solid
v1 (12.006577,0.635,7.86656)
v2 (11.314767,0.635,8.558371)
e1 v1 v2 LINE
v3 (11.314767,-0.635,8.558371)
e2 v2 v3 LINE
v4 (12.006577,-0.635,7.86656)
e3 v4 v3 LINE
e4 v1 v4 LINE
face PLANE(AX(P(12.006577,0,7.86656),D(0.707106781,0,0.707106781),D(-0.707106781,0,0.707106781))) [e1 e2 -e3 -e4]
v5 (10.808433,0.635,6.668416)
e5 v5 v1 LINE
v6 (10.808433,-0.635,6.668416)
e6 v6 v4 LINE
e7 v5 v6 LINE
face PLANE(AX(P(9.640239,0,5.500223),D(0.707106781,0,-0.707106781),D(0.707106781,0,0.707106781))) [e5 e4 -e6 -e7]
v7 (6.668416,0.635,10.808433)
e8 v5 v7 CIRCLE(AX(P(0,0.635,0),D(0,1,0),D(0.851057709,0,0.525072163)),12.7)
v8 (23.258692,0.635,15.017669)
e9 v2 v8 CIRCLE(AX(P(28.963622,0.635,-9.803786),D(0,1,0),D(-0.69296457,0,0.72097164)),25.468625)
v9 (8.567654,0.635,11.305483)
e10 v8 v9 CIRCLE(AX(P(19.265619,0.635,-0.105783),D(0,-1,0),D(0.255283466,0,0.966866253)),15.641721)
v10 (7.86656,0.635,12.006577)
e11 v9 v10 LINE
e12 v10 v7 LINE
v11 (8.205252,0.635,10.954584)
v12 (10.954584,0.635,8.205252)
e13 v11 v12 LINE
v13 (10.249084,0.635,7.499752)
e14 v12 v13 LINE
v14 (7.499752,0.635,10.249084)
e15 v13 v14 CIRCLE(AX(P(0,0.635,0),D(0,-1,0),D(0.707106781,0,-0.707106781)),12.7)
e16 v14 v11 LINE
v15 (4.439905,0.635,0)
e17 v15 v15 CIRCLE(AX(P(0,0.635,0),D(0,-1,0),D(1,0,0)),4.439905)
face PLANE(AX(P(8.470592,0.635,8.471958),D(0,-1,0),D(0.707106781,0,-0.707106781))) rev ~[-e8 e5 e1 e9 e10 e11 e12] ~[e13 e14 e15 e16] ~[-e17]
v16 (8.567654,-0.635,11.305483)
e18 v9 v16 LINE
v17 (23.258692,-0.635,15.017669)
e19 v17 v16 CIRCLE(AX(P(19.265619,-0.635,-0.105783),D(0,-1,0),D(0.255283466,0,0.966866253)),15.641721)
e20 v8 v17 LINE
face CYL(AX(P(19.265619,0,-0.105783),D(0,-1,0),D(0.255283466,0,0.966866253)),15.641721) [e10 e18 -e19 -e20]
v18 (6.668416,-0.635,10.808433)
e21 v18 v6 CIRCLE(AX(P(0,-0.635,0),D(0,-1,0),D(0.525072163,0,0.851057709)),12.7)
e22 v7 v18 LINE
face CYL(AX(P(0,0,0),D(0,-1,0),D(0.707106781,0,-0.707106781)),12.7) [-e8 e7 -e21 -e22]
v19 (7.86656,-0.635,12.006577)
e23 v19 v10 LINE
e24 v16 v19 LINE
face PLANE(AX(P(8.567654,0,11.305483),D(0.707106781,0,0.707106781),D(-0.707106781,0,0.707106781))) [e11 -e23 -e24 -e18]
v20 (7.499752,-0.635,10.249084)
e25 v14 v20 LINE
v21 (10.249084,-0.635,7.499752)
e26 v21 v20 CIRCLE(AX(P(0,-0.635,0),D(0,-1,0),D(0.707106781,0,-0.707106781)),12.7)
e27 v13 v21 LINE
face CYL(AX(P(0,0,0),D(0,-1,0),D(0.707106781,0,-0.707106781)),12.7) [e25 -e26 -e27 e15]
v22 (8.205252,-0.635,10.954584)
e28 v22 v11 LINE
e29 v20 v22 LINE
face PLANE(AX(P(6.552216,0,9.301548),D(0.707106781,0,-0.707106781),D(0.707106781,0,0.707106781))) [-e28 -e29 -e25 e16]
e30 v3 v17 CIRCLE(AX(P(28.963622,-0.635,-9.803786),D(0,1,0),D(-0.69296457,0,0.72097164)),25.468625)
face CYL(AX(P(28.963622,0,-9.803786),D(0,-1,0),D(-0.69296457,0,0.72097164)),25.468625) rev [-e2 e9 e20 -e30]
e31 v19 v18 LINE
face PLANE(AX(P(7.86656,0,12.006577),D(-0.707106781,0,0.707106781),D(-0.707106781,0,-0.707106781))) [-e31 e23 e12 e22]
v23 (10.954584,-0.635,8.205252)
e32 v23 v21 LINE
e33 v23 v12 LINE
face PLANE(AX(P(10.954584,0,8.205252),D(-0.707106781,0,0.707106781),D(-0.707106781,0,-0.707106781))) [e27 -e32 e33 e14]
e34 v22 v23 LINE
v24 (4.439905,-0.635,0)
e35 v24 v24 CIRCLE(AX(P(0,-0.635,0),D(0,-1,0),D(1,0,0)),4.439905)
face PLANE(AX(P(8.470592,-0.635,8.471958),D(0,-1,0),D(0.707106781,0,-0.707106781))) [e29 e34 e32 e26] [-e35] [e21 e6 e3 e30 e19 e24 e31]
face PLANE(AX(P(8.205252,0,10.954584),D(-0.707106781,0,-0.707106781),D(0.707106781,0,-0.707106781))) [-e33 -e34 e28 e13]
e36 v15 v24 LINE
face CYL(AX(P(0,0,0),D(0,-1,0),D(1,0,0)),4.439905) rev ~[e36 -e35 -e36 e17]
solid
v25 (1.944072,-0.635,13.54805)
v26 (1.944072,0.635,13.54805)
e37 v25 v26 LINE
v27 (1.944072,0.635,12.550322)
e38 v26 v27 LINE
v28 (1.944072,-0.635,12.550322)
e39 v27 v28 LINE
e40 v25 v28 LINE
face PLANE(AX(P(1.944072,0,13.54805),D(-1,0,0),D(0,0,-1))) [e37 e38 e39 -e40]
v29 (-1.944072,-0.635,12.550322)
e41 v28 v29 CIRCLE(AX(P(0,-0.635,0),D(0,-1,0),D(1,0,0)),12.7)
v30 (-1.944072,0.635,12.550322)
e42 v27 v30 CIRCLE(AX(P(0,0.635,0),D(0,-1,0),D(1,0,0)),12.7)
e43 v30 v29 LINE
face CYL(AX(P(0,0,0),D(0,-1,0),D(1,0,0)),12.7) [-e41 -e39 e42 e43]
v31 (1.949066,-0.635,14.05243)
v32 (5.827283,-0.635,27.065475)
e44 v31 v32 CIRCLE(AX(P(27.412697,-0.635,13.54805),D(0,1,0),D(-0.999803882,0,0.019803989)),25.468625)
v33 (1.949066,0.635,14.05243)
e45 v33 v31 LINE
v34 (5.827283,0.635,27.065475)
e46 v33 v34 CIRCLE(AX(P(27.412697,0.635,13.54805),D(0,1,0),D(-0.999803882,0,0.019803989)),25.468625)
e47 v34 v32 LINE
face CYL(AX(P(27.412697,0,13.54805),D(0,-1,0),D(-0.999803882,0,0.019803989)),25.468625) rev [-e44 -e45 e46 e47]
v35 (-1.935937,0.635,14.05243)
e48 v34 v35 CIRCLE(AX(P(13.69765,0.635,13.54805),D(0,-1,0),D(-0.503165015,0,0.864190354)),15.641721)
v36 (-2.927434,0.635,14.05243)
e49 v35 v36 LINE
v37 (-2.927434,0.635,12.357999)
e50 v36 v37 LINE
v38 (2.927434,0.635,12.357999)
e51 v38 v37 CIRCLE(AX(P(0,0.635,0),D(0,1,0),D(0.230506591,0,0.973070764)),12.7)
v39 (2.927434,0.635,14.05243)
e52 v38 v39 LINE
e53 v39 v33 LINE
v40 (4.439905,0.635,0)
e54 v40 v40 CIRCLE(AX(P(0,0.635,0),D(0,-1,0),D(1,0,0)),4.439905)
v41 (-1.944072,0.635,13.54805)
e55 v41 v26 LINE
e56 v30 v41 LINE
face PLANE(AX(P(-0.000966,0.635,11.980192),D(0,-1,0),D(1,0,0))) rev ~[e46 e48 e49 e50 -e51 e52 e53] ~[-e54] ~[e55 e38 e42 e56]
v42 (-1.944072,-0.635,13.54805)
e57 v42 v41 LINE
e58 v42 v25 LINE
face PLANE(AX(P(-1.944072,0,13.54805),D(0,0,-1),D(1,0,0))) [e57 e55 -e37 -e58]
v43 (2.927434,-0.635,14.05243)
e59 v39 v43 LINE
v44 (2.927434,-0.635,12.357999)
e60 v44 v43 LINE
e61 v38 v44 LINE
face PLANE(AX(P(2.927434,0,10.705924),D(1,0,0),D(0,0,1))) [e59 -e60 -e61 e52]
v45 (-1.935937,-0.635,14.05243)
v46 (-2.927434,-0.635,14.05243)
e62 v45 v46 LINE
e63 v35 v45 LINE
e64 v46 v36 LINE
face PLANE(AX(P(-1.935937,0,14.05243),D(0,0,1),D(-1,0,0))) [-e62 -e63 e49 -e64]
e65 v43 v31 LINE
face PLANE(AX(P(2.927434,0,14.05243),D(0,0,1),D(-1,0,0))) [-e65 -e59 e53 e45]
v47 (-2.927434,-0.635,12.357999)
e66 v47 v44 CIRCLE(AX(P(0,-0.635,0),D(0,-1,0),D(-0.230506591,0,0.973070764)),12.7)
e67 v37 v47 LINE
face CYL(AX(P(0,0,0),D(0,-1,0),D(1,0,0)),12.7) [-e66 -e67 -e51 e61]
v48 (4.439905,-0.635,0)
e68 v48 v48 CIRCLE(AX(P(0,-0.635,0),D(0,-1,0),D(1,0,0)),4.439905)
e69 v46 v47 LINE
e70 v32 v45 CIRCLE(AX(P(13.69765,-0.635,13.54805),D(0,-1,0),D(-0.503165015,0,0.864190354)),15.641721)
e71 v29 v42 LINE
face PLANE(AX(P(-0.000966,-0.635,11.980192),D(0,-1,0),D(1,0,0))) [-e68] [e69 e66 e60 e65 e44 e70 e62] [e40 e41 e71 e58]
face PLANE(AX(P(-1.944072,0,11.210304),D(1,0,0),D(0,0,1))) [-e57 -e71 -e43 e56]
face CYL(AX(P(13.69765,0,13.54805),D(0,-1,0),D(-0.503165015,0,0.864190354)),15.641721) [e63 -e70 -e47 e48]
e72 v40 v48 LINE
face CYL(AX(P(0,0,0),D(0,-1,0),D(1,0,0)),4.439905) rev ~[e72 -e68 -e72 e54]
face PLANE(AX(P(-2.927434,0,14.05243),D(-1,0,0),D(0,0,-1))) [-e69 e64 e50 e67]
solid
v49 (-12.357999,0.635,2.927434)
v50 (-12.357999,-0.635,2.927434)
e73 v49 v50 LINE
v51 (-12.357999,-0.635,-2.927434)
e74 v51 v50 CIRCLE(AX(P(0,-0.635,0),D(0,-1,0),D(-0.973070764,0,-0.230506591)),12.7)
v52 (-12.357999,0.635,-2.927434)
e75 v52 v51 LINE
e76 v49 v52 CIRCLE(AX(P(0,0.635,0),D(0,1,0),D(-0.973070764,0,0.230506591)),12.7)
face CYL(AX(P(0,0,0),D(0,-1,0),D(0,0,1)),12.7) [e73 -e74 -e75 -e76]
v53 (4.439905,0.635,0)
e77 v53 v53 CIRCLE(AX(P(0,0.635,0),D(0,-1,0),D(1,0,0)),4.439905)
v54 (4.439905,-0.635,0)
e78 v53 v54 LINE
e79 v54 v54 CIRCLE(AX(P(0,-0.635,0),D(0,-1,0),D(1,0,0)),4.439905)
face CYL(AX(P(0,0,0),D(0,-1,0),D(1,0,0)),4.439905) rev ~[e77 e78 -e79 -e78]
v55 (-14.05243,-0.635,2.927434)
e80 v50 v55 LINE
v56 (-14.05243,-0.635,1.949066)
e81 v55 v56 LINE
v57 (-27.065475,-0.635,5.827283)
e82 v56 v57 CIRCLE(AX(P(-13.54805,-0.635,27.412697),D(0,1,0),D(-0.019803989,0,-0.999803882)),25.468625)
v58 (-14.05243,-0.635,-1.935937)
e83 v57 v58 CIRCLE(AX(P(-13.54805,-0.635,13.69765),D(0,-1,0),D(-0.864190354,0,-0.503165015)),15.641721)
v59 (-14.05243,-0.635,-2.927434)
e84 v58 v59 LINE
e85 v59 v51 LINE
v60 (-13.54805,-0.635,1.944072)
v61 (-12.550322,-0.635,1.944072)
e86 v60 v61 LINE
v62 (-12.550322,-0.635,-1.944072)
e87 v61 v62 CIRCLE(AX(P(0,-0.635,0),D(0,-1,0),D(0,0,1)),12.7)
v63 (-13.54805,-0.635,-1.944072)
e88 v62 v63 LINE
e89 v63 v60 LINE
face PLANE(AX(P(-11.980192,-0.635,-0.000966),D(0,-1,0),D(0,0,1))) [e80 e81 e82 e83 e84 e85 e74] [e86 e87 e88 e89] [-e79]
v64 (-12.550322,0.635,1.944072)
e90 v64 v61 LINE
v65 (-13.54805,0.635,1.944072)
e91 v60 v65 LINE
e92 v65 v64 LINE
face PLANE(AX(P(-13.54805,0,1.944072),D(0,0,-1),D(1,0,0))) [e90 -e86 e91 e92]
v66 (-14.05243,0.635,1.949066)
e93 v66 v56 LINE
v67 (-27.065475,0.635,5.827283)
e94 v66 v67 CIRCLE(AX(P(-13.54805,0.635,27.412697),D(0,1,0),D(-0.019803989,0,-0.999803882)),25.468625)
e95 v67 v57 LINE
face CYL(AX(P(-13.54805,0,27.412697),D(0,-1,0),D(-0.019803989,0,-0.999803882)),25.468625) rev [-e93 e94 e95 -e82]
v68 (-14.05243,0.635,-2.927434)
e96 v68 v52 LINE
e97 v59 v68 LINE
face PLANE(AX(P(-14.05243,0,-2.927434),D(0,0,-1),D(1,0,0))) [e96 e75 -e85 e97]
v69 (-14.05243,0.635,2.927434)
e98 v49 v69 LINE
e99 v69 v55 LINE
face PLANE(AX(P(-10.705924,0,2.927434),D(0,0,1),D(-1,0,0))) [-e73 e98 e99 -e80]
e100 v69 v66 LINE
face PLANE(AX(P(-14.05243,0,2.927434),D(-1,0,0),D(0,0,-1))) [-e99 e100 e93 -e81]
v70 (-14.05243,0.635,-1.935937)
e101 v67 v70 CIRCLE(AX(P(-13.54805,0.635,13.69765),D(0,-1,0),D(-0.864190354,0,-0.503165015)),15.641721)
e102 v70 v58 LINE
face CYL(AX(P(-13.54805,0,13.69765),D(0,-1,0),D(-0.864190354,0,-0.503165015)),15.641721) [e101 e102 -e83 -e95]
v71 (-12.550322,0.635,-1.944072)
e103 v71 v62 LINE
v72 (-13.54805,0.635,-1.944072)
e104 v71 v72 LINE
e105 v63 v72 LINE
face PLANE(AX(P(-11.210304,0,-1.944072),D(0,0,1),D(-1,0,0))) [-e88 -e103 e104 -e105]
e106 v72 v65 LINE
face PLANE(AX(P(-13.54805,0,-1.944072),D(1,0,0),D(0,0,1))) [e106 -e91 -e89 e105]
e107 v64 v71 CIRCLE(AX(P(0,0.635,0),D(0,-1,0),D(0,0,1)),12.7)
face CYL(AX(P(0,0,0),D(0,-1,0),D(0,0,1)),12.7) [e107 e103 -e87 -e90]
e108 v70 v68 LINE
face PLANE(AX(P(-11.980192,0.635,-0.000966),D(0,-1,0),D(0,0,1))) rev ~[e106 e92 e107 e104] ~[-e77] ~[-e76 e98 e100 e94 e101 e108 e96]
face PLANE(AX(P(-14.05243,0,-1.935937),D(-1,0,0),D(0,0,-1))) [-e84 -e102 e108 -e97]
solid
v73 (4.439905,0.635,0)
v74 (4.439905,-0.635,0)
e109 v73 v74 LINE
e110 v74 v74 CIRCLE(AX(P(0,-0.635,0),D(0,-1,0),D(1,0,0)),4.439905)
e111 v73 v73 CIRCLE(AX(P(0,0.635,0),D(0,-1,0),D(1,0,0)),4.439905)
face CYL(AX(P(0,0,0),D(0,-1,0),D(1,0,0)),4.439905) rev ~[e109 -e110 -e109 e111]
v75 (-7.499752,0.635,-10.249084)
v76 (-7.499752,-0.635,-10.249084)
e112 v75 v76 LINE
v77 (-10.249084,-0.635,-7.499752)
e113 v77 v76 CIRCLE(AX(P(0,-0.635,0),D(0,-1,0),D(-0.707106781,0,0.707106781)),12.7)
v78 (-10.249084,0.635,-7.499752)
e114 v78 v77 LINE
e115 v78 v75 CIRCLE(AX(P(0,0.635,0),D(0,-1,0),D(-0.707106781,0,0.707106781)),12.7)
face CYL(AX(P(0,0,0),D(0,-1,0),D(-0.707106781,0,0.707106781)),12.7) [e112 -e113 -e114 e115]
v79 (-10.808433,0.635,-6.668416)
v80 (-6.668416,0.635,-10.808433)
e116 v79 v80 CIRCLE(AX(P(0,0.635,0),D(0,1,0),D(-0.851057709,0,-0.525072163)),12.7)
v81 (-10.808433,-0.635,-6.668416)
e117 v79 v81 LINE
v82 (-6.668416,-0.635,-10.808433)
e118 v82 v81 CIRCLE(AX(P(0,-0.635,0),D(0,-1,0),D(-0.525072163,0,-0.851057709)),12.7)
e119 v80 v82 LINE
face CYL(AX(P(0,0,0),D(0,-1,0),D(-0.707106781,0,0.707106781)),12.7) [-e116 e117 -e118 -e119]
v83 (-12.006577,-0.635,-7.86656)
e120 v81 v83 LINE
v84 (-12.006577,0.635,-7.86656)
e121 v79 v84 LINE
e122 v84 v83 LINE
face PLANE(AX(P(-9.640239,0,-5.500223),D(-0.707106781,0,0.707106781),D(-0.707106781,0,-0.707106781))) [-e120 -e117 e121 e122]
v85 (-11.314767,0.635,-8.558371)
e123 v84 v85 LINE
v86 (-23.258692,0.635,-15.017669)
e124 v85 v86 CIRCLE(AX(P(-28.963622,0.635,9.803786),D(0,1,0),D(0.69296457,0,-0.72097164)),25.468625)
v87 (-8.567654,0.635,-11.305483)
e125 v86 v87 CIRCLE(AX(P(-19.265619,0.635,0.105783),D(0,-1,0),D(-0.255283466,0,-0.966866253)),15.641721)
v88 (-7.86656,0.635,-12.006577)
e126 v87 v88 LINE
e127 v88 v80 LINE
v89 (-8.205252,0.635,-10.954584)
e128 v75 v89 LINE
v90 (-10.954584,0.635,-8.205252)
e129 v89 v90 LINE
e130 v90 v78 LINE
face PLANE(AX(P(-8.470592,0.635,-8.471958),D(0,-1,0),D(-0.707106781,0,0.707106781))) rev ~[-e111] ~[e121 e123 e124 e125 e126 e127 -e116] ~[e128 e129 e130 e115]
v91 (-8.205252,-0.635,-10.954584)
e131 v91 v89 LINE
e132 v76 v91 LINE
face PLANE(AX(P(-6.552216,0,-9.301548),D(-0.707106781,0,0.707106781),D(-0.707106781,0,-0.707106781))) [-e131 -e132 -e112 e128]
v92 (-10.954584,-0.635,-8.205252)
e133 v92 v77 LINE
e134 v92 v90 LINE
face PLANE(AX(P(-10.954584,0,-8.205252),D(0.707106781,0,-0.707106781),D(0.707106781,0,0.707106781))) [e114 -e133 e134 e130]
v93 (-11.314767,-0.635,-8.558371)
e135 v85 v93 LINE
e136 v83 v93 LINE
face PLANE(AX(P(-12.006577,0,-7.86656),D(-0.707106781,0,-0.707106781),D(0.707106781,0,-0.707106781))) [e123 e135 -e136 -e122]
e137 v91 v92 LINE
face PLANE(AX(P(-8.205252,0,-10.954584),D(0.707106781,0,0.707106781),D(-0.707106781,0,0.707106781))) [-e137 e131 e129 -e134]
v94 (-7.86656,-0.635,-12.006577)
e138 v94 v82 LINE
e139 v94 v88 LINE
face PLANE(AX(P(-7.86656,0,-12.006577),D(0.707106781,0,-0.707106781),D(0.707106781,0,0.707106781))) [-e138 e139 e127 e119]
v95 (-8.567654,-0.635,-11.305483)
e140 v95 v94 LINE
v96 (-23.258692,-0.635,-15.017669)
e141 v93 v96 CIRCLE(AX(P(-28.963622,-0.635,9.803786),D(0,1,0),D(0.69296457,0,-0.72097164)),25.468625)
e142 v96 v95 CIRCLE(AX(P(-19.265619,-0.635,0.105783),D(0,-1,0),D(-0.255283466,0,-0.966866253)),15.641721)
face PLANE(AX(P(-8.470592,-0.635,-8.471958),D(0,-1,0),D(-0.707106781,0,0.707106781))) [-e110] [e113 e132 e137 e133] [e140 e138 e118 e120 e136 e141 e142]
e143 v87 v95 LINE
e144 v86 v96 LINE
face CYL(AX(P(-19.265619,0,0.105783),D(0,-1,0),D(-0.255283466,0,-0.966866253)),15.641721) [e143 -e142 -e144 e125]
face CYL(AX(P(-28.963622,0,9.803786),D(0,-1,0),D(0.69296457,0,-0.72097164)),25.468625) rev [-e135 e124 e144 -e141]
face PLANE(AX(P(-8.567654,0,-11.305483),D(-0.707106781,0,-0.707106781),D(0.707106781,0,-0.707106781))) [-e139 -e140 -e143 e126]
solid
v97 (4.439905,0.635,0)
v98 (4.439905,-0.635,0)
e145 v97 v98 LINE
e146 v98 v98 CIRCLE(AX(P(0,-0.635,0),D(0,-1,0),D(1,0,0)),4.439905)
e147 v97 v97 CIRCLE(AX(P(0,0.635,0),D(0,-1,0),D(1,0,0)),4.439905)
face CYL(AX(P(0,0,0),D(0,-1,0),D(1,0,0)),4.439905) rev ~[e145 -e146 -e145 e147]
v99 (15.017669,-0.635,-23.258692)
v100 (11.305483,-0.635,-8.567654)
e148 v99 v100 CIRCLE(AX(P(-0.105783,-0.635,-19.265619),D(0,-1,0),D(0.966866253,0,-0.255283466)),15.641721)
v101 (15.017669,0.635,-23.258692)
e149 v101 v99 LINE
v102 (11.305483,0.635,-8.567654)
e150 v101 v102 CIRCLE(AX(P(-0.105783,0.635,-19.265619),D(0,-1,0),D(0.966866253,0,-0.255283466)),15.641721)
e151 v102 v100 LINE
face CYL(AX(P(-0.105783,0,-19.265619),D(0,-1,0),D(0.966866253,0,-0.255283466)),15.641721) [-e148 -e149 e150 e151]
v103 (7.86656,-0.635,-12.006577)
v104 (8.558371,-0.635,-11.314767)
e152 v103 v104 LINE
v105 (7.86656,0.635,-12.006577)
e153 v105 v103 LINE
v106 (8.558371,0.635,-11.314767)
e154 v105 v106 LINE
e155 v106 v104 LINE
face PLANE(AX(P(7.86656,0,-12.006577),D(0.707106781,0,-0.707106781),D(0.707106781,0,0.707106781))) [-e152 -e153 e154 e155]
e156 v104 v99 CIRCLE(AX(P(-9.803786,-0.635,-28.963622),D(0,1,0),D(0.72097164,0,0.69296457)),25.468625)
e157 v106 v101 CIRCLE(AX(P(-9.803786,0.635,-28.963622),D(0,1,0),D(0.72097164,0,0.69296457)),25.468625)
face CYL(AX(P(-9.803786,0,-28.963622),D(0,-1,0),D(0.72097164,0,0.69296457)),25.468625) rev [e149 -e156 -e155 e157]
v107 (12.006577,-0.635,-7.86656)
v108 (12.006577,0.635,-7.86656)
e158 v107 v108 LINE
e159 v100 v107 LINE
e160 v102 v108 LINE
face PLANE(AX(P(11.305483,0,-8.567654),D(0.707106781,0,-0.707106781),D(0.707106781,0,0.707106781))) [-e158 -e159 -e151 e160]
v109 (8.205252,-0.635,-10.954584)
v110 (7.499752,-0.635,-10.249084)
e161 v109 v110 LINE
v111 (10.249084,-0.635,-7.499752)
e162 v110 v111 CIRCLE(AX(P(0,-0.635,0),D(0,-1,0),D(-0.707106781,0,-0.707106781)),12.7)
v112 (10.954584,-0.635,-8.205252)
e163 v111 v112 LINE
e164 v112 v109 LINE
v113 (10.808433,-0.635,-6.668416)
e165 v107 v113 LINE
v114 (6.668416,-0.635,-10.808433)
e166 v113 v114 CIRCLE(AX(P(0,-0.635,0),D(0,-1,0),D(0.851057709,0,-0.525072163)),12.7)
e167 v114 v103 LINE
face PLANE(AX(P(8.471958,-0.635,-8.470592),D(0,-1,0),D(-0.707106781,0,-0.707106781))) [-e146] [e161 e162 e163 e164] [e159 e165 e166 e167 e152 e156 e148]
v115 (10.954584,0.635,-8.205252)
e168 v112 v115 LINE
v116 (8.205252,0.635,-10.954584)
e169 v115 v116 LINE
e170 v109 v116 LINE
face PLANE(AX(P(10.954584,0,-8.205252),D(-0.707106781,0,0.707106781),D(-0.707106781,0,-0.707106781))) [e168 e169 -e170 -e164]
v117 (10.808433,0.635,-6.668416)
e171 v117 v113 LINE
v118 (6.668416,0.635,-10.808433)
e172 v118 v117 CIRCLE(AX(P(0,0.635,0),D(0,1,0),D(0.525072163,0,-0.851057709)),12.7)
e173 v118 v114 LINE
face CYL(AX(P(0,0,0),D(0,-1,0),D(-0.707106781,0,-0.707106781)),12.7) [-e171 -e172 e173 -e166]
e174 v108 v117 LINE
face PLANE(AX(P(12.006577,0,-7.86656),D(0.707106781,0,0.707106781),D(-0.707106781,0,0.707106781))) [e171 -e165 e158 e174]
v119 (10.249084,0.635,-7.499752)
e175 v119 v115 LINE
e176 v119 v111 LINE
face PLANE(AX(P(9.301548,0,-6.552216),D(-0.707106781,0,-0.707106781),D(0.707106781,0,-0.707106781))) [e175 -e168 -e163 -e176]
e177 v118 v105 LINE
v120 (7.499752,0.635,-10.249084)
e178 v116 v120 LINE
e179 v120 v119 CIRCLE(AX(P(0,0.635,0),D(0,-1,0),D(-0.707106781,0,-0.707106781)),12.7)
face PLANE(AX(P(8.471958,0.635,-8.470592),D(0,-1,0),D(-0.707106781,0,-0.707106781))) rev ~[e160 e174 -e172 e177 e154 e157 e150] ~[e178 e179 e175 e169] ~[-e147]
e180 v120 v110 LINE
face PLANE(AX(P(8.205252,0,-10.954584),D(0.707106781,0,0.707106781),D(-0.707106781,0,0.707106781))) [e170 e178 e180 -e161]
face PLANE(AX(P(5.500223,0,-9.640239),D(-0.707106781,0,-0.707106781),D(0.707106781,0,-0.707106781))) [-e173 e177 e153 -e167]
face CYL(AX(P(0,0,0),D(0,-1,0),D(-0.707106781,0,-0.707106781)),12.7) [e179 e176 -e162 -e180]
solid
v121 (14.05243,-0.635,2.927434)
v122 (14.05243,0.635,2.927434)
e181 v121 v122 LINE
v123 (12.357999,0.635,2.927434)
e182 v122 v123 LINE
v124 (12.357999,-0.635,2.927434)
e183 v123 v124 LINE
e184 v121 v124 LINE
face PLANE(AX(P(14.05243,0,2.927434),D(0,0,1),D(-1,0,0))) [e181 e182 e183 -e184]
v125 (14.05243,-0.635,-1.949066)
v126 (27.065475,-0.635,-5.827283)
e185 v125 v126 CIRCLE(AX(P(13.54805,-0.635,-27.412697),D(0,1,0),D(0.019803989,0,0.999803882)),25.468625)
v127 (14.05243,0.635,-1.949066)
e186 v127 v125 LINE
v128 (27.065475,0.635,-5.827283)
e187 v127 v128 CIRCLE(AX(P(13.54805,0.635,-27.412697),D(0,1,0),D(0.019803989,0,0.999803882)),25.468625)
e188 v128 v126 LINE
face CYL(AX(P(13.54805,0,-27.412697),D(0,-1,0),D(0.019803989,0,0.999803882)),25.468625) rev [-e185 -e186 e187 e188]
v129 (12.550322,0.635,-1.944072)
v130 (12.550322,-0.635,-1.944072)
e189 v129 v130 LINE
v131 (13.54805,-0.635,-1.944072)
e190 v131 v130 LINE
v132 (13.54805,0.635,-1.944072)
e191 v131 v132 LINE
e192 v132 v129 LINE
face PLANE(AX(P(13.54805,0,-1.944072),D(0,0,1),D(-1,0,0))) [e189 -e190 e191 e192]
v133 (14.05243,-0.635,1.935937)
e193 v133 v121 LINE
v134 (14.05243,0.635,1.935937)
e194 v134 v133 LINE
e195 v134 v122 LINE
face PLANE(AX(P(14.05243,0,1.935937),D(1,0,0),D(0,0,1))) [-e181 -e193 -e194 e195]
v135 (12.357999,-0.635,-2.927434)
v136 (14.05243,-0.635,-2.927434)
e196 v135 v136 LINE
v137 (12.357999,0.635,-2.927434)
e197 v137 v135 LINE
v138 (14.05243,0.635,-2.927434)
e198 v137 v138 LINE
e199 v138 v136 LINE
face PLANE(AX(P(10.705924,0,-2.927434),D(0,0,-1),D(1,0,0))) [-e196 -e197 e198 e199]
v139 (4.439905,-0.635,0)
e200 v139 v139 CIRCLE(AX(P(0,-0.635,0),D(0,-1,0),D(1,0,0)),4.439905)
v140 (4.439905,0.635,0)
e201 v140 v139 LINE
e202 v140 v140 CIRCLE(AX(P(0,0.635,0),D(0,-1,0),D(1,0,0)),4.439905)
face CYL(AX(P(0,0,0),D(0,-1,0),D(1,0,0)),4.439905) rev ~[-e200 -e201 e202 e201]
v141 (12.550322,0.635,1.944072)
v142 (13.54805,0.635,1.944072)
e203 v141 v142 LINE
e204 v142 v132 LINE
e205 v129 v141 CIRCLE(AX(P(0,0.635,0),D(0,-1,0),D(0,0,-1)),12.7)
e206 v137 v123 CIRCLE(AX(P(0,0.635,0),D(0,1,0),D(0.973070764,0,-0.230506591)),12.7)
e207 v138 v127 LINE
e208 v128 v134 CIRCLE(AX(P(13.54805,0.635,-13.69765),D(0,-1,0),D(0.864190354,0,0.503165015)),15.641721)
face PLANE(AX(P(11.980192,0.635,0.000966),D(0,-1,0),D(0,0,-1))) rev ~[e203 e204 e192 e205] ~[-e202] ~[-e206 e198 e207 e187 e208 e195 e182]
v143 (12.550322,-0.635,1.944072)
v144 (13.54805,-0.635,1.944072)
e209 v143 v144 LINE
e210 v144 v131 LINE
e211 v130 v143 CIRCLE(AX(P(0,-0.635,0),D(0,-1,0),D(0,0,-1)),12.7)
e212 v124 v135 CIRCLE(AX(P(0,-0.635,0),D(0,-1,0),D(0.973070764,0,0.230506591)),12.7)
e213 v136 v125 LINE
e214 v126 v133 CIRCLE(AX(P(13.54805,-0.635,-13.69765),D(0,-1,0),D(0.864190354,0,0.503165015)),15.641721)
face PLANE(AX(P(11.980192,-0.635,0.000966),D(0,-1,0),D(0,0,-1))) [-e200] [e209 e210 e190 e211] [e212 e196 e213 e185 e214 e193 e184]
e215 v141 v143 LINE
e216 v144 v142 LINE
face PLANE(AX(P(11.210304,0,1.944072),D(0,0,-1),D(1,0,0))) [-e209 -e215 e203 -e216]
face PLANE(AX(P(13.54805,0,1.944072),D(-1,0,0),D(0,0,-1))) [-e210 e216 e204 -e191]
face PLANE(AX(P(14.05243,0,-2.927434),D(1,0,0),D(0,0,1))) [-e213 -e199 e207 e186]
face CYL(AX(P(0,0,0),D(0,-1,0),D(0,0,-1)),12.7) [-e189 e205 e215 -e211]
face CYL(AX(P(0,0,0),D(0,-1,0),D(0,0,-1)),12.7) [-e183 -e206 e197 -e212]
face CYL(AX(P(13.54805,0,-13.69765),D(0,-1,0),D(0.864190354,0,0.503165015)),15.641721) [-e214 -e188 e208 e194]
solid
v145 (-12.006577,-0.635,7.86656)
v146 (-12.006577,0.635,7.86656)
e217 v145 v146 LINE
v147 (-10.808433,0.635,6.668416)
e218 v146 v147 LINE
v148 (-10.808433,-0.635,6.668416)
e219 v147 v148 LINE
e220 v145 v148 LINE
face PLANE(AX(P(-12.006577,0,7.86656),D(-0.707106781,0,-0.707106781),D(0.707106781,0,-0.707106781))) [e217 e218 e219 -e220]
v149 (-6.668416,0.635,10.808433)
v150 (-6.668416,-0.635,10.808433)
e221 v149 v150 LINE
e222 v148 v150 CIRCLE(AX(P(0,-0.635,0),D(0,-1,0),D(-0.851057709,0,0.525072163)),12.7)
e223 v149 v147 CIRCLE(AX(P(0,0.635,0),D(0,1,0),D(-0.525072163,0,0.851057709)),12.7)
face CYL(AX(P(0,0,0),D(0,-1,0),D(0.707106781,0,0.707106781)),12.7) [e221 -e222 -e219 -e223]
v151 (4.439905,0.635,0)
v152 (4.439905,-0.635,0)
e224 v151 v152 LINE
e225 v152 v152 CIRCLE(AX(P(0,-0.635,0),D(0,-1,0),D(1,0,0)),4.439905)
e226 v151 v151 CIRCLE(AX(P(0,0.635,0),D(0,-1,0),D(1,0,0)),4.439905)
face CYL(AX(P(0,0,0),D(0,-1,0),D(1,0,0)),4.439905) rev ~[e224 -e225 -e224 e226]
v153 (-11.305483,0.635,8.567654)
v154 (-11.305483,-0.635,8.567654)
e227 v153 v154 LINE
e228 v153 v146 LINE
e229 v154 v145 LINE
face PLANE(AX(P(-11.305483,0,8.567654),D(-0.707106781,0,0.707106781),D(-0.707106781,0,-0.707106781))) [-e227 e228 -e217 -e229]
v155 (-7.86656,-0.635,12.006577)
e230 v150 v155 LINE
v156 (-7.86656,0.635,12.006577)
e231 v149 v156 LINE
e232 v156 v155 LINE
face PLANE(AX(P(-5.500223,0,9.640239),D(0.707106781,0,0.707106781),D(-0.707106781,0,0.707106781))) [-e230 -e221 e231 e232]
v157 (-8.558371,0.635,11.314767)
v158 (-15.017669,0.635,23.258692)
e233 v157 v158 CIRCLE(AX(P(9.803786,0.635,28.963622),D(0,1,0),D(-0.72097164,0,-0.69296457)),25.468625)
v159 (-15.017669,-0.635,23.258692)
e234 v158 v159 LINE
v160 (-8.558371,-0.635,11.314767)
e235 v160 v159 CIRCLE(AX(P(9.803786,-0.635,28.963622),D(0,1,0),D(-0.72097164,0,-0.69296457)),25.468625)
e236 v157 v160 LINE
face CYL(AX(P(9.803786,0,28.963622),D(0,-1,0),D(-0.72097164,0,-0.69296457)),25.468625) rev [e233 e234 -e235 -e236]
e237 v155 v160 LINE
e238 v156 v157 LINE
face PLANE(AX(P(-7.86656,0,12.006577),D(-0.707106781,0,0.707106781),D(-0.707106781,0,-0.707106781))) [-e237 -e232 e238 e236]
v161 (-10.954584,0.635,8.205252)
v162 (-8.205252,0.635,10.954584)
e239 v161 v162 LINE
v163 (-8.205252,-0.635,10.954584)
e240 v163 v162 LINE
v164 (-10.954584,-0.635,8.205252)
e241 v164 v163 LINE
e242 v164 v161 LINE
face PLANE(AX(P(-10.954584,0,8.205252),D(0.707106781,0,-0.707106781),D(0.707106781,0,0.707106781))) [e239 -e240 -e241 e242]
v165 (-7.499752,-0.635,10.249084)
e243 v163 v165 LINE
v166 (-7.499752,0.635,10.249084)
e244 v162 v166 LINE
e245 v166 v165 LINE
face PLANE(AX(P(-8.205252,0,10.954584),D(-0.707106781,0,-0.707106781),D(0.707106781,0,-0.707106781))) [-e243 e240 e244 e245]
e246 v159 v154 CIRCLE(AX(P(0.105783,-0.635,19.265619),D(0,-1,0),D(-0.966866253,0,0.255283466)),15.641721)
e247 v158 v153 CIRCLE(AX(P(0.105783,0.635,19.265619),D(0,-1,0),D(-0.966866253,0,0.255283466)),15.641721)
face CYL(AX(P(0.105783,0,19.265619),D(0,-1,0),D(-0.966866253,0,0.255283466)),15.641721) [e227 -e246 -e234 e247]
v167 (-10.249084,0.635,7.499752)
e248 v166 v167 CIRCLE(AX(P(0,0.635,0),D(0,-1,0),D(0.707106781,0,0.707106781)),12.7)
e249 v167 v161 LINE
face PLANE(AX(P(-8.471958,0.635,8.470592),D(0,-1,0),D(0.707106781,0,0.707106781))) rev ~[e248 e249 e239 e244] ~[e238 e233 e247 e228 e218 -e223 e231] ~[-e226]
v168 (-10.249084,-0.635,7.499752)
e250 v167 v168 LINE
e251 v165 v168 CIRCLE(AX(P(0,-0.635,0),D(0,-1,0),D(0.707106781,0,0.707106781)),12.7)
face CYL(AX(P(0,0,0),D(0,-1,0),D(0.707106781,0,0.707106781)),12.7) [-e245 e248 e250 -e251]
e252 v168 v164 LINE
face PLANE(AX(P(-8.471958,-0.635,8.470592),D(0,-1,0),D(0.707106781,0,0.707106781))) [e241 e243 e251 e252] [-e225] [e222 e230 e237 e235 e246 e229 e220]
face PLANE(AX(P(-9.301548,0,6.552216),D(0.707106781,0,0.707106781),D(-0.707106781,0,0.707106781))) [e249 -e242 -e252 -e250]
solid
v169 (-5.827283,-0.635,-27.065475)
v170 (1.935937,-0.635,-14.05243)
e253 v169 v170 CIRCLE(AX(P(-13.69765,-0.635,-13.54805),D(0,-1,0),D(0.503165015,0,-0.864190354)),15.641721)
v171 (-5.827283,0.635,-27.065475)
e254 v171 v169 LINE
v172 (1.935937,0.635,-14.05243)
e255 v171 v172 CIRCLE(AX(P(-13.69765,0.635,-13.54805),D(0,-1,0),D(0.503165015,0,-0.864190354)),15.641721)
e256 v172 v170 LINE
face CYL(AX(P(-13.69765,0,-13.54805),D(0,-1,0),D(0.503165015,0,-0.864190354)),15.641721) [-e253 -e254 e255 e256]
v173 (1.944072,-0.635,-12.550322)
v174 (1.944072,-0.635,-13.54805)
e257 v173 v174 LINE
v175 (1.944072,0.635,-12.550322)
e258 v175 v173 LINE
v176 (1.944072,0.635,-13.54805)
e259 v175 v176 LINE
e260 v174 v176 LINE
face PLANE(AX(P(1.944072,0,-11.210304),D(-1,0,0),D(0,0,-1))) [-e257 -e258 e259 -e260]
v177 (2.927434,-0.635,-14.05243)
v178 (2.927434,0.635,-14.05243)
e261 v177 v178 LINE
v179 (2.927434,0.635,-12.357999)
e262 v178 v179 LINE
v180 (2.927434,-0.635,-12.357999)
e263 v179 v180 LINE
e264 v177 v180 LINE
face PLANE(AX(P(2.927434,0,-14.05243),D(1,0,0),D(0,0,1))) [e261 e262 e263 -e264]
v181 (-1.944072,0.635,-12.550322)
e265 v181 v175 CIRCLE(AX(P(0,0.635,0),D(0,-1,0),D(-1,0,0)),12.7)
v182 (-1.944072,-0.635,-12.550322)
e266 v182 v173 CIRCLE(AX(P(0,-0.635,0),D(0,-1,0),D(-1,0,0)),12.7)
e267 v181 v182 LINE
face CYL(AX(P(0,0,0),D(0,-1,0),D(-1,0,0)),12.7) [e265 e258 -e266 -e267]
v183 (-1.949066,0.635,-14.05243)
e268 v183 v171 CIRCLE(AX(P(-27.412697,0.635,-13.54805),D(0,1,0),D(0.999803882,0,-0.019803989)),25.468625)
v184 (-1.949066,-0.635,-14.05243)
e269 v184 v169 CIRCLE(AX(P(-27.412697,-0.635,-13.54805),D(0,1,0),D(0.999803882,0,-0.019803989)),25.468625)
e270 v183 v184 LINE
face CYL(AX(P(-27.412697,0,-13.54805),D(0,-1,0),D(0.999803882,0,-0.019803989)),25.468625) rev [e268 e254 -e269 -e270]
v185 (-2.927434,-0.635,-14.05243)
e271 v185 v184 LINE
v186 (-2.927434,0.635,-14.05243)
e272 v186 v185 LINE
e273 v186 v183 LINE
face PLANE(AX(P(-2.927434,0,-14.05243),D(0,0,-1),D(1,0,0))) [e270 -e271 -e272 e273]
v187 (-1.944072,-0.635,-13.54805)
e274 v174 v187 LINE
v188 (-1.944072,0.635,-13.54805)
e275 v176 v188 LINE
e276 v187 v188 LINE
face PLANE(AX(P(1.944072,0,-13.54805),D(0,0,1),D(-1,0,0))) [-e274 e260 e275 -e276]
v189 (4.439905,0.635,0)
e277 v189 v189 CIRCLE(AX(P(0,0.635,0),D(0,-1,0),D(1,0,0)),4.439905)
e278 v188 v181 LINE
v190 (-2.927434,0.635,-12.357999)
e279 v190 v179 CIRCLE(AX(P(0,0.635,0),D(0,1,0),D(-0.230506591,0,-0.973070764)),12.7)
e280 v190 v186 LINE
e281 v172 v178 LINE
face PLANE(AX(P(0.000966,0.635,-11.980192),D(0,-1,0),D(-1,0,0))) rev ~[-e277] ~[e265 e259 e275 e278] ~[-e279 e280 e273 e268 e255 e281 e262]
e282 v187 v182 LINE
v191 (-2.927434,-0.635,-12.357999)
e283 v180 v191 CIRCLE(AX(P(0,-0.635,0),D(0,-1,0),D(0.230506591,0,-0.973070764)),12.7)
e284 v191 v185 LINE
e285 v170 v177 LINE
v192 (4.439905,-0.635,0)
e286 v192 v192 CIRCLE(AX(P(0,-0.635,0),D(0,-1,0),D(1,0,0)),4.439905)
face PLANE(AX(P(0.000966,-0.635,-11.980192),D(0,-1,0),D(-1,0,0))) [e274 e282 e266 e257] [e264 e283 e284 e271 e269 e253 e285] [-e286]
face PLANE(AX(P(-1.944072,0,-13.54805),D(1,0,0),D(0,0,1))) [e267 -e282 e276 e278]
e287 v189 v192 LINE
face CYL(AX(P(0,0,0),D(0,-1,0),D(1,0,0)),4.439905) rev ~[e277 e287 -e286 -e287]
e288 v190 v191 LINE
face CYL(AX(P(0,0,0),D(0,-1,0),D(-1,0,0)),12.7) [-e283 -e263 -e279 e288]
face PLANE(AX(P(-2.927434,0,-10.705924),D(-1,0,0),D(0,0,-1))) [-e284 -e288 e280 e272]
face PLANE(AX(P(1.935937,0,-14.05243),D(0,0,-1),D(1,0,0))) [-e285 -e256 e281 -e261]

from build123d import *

# Parameters (mm, degrees)
F0_R     = 12.7
F1_DEPTH = 0.635
F3_DEPTH = 0.635
F4_COUNT = 8
F5_R     = 4.439905228
F6_DEPTH = 0.635


with BuildPart() as f1:
    # F0 (on Front) → F1 (new body, symmetric)
    with BuildSketch(Plane.XZ):
        Circle(F0_R)
    extrude(amount=F1_DEPTH, both=True)

    # F2 (on Front) → F3 (join, symmetric)
    with BuildSketch(Plane.XZ):
        with BuildLine():
            ThreePointArc((1.9490664869, 14.0524301678), (1.9453203714, 13.800252346), (1.9440716254, 13.5480497929))
            Line((1.9440716254, 13.5480497929), (1.9440716254, 11.2103040365))
            Line((1.9440716254, 11.2103040365), (-1.9440716254, 11.2103040365))
            Line((-1.9440716254, 11.2103040365), (-1.9440716254, 13.5480497929))
            ThreePointArc((-1.9440716254, 13.5480497929), (-1.9420379436, 13.8002727735), (-1.9359374271, 14.0524301678))
            Line((-1.9359374271, 14.0524301678), (-2.9274336994, 14.0524301678))
            Line((-2.9274336994, 14.0524301678), (-2.9274336994, 10.7059236616))
            Line((-2.9274336994, 10.7059236616), (2.9274336994, 10.7059236616))
            Line((2.9274336994, 10.7059236616), (2.9274336994, 14.0524301678))
            Line((2.9274336994, 14.0524301678), (1.9490664869, 14.0524301678))
        make_face()
        with BuildLine():
            Line((-1.9440716254, 13.5480497929), (1.9440716254, 13.5480497929))
            ThreePointArc((1.9440716254, 13.5480497929), (1.9453203714, 13.800252346), (1.9490664869, 14.0524301678))
            Line((1.9490664869, 14.0524301678), (-1.9359374271, 14.0524301678))
            ThreePointArc((-1.9359374271, 14.0524301678), (-1.9420379436, 13.8002727735), (-1.9440716254, 13.5480497929))
        make_face()
        with BuildLine():
            Line((-1.9359374271, 14.0524301678), (1.9490664869, 14.0524301678))
            ThreePointArc((1.9490664869, 14.0524301678), (3.0049526679, 20.8221748276), (5.8272827847, 27.0654745239))
            ThreePointArc((5.8272827847, 27.0654745239), (0.2647127685, 21.5617662603), (-1.9359374271, 14.0524301678))
        make_face()
    extrude(amount=F3_DEPTH, both=True)


with BuildPart() as f4_1:
    # F4: instance of F1
    add(f1.part.rotate(Axis((0, 0, 0), (0, -1, 0)), 1 * 360 / F4_COUNT))


with BuildPart() as f4_2:
    # F4: instance of F1
    add(f1.part.rotate(Axis((0, 0, 0), (0, -1, 0)), 2 * 360 / F4_COUNT))


with BuildPart() as f4_3:
    # F4: instance of F1
    add(f1.part.rotate(Axis((0, 0, 0), (0, -1, 0)), 3 * 360 / F4_COUNT))


with BuildPart() as f4_4:
    # F4: instance of F1
    add(f1.part.rotate(Axis((0, 0, 0), (0, -1, 0)), 4 * 360 / F4_COUNT))


with BuildPart() as f4_5:
    # F4: instance of F1
    add(f1.part.rotate(Axis((0, 0, 0), (0, -1, 0)), 5 * 360 / F4_COUNT))


with BuildPart() as f4_6:
    # F4: instance of F1
    add(f1.part.rotate(Axis((0, 0, 0), (0, -1, 0)), 6 * 360 / F4_COUNT))


with BuildPart() as f4_7:
    # F4: instance of F1
    add(f1.part.rotate(Axis((0, 0, 0), (0, -1, 0)), 7 * 360 / F4_COUNT))


with BuildPart() as f6_tool:
    # F5 (on Front) → F6 (new body, symmetric)
    with BuildSketch(Plane.XZ):
        Circle(F5_R)
    extrude(amount=F6_DEPTH, both=True)


with BuildPart() as f1_1:
    add(f1.part)

    # F6: cut by f6_tool
    add(f6_tool.part, mode=Mode.SUBTRACT)


with BuildPart() as f4_1_1:
    add(f4_1.part)

    # F6: cut by f6_tool
    add(f6_tool.part, mode=Mode.SUBTRACT)


with BuildPart() as f4_2_1:
    add(f4_2.part)

    # F6: cut by f6_tool
    add(f6_tool.part, mode=Mode.SUBTRACT)


with BuildPart() as f4_3_1:
    add(f4_3.part)

    # F6: cut by f6_tool
    add(f6_tool.part, mode=Mode.SUBTRACT)


with BuildPart() as f4_4_1:
    add(f4_4.part)

    # F6: cut by f6_tool
    add(f6_tool.part, mode=Mode.SUBTRACT)


with BuildPart() as f4_5_1:
    add(f4_5.part)

    # F6: cut by f6_tool
    add(f6_tool.part, mode=Mode.SUBTRACT)


with BuildPart() as f4_6_1:
    add(f4_6.part)

    # F6: cut by f6_tool
    add(f6_tool.part, mode=Mode.SUBTRACT)


with BuildPart() as f4_7_1:
    add(f4_7.part)

    # F6: cut by f6_tool
    add(f6_tool.part, mode=Mode.SUBTRACT)


solid = Compound([f1_1.part, f4_1_1.part, f4_2_1.part, f4_3_1.part, f4_4_1.part, f4_5_1.part, f4_6_1.part, f4_7_1.part])
